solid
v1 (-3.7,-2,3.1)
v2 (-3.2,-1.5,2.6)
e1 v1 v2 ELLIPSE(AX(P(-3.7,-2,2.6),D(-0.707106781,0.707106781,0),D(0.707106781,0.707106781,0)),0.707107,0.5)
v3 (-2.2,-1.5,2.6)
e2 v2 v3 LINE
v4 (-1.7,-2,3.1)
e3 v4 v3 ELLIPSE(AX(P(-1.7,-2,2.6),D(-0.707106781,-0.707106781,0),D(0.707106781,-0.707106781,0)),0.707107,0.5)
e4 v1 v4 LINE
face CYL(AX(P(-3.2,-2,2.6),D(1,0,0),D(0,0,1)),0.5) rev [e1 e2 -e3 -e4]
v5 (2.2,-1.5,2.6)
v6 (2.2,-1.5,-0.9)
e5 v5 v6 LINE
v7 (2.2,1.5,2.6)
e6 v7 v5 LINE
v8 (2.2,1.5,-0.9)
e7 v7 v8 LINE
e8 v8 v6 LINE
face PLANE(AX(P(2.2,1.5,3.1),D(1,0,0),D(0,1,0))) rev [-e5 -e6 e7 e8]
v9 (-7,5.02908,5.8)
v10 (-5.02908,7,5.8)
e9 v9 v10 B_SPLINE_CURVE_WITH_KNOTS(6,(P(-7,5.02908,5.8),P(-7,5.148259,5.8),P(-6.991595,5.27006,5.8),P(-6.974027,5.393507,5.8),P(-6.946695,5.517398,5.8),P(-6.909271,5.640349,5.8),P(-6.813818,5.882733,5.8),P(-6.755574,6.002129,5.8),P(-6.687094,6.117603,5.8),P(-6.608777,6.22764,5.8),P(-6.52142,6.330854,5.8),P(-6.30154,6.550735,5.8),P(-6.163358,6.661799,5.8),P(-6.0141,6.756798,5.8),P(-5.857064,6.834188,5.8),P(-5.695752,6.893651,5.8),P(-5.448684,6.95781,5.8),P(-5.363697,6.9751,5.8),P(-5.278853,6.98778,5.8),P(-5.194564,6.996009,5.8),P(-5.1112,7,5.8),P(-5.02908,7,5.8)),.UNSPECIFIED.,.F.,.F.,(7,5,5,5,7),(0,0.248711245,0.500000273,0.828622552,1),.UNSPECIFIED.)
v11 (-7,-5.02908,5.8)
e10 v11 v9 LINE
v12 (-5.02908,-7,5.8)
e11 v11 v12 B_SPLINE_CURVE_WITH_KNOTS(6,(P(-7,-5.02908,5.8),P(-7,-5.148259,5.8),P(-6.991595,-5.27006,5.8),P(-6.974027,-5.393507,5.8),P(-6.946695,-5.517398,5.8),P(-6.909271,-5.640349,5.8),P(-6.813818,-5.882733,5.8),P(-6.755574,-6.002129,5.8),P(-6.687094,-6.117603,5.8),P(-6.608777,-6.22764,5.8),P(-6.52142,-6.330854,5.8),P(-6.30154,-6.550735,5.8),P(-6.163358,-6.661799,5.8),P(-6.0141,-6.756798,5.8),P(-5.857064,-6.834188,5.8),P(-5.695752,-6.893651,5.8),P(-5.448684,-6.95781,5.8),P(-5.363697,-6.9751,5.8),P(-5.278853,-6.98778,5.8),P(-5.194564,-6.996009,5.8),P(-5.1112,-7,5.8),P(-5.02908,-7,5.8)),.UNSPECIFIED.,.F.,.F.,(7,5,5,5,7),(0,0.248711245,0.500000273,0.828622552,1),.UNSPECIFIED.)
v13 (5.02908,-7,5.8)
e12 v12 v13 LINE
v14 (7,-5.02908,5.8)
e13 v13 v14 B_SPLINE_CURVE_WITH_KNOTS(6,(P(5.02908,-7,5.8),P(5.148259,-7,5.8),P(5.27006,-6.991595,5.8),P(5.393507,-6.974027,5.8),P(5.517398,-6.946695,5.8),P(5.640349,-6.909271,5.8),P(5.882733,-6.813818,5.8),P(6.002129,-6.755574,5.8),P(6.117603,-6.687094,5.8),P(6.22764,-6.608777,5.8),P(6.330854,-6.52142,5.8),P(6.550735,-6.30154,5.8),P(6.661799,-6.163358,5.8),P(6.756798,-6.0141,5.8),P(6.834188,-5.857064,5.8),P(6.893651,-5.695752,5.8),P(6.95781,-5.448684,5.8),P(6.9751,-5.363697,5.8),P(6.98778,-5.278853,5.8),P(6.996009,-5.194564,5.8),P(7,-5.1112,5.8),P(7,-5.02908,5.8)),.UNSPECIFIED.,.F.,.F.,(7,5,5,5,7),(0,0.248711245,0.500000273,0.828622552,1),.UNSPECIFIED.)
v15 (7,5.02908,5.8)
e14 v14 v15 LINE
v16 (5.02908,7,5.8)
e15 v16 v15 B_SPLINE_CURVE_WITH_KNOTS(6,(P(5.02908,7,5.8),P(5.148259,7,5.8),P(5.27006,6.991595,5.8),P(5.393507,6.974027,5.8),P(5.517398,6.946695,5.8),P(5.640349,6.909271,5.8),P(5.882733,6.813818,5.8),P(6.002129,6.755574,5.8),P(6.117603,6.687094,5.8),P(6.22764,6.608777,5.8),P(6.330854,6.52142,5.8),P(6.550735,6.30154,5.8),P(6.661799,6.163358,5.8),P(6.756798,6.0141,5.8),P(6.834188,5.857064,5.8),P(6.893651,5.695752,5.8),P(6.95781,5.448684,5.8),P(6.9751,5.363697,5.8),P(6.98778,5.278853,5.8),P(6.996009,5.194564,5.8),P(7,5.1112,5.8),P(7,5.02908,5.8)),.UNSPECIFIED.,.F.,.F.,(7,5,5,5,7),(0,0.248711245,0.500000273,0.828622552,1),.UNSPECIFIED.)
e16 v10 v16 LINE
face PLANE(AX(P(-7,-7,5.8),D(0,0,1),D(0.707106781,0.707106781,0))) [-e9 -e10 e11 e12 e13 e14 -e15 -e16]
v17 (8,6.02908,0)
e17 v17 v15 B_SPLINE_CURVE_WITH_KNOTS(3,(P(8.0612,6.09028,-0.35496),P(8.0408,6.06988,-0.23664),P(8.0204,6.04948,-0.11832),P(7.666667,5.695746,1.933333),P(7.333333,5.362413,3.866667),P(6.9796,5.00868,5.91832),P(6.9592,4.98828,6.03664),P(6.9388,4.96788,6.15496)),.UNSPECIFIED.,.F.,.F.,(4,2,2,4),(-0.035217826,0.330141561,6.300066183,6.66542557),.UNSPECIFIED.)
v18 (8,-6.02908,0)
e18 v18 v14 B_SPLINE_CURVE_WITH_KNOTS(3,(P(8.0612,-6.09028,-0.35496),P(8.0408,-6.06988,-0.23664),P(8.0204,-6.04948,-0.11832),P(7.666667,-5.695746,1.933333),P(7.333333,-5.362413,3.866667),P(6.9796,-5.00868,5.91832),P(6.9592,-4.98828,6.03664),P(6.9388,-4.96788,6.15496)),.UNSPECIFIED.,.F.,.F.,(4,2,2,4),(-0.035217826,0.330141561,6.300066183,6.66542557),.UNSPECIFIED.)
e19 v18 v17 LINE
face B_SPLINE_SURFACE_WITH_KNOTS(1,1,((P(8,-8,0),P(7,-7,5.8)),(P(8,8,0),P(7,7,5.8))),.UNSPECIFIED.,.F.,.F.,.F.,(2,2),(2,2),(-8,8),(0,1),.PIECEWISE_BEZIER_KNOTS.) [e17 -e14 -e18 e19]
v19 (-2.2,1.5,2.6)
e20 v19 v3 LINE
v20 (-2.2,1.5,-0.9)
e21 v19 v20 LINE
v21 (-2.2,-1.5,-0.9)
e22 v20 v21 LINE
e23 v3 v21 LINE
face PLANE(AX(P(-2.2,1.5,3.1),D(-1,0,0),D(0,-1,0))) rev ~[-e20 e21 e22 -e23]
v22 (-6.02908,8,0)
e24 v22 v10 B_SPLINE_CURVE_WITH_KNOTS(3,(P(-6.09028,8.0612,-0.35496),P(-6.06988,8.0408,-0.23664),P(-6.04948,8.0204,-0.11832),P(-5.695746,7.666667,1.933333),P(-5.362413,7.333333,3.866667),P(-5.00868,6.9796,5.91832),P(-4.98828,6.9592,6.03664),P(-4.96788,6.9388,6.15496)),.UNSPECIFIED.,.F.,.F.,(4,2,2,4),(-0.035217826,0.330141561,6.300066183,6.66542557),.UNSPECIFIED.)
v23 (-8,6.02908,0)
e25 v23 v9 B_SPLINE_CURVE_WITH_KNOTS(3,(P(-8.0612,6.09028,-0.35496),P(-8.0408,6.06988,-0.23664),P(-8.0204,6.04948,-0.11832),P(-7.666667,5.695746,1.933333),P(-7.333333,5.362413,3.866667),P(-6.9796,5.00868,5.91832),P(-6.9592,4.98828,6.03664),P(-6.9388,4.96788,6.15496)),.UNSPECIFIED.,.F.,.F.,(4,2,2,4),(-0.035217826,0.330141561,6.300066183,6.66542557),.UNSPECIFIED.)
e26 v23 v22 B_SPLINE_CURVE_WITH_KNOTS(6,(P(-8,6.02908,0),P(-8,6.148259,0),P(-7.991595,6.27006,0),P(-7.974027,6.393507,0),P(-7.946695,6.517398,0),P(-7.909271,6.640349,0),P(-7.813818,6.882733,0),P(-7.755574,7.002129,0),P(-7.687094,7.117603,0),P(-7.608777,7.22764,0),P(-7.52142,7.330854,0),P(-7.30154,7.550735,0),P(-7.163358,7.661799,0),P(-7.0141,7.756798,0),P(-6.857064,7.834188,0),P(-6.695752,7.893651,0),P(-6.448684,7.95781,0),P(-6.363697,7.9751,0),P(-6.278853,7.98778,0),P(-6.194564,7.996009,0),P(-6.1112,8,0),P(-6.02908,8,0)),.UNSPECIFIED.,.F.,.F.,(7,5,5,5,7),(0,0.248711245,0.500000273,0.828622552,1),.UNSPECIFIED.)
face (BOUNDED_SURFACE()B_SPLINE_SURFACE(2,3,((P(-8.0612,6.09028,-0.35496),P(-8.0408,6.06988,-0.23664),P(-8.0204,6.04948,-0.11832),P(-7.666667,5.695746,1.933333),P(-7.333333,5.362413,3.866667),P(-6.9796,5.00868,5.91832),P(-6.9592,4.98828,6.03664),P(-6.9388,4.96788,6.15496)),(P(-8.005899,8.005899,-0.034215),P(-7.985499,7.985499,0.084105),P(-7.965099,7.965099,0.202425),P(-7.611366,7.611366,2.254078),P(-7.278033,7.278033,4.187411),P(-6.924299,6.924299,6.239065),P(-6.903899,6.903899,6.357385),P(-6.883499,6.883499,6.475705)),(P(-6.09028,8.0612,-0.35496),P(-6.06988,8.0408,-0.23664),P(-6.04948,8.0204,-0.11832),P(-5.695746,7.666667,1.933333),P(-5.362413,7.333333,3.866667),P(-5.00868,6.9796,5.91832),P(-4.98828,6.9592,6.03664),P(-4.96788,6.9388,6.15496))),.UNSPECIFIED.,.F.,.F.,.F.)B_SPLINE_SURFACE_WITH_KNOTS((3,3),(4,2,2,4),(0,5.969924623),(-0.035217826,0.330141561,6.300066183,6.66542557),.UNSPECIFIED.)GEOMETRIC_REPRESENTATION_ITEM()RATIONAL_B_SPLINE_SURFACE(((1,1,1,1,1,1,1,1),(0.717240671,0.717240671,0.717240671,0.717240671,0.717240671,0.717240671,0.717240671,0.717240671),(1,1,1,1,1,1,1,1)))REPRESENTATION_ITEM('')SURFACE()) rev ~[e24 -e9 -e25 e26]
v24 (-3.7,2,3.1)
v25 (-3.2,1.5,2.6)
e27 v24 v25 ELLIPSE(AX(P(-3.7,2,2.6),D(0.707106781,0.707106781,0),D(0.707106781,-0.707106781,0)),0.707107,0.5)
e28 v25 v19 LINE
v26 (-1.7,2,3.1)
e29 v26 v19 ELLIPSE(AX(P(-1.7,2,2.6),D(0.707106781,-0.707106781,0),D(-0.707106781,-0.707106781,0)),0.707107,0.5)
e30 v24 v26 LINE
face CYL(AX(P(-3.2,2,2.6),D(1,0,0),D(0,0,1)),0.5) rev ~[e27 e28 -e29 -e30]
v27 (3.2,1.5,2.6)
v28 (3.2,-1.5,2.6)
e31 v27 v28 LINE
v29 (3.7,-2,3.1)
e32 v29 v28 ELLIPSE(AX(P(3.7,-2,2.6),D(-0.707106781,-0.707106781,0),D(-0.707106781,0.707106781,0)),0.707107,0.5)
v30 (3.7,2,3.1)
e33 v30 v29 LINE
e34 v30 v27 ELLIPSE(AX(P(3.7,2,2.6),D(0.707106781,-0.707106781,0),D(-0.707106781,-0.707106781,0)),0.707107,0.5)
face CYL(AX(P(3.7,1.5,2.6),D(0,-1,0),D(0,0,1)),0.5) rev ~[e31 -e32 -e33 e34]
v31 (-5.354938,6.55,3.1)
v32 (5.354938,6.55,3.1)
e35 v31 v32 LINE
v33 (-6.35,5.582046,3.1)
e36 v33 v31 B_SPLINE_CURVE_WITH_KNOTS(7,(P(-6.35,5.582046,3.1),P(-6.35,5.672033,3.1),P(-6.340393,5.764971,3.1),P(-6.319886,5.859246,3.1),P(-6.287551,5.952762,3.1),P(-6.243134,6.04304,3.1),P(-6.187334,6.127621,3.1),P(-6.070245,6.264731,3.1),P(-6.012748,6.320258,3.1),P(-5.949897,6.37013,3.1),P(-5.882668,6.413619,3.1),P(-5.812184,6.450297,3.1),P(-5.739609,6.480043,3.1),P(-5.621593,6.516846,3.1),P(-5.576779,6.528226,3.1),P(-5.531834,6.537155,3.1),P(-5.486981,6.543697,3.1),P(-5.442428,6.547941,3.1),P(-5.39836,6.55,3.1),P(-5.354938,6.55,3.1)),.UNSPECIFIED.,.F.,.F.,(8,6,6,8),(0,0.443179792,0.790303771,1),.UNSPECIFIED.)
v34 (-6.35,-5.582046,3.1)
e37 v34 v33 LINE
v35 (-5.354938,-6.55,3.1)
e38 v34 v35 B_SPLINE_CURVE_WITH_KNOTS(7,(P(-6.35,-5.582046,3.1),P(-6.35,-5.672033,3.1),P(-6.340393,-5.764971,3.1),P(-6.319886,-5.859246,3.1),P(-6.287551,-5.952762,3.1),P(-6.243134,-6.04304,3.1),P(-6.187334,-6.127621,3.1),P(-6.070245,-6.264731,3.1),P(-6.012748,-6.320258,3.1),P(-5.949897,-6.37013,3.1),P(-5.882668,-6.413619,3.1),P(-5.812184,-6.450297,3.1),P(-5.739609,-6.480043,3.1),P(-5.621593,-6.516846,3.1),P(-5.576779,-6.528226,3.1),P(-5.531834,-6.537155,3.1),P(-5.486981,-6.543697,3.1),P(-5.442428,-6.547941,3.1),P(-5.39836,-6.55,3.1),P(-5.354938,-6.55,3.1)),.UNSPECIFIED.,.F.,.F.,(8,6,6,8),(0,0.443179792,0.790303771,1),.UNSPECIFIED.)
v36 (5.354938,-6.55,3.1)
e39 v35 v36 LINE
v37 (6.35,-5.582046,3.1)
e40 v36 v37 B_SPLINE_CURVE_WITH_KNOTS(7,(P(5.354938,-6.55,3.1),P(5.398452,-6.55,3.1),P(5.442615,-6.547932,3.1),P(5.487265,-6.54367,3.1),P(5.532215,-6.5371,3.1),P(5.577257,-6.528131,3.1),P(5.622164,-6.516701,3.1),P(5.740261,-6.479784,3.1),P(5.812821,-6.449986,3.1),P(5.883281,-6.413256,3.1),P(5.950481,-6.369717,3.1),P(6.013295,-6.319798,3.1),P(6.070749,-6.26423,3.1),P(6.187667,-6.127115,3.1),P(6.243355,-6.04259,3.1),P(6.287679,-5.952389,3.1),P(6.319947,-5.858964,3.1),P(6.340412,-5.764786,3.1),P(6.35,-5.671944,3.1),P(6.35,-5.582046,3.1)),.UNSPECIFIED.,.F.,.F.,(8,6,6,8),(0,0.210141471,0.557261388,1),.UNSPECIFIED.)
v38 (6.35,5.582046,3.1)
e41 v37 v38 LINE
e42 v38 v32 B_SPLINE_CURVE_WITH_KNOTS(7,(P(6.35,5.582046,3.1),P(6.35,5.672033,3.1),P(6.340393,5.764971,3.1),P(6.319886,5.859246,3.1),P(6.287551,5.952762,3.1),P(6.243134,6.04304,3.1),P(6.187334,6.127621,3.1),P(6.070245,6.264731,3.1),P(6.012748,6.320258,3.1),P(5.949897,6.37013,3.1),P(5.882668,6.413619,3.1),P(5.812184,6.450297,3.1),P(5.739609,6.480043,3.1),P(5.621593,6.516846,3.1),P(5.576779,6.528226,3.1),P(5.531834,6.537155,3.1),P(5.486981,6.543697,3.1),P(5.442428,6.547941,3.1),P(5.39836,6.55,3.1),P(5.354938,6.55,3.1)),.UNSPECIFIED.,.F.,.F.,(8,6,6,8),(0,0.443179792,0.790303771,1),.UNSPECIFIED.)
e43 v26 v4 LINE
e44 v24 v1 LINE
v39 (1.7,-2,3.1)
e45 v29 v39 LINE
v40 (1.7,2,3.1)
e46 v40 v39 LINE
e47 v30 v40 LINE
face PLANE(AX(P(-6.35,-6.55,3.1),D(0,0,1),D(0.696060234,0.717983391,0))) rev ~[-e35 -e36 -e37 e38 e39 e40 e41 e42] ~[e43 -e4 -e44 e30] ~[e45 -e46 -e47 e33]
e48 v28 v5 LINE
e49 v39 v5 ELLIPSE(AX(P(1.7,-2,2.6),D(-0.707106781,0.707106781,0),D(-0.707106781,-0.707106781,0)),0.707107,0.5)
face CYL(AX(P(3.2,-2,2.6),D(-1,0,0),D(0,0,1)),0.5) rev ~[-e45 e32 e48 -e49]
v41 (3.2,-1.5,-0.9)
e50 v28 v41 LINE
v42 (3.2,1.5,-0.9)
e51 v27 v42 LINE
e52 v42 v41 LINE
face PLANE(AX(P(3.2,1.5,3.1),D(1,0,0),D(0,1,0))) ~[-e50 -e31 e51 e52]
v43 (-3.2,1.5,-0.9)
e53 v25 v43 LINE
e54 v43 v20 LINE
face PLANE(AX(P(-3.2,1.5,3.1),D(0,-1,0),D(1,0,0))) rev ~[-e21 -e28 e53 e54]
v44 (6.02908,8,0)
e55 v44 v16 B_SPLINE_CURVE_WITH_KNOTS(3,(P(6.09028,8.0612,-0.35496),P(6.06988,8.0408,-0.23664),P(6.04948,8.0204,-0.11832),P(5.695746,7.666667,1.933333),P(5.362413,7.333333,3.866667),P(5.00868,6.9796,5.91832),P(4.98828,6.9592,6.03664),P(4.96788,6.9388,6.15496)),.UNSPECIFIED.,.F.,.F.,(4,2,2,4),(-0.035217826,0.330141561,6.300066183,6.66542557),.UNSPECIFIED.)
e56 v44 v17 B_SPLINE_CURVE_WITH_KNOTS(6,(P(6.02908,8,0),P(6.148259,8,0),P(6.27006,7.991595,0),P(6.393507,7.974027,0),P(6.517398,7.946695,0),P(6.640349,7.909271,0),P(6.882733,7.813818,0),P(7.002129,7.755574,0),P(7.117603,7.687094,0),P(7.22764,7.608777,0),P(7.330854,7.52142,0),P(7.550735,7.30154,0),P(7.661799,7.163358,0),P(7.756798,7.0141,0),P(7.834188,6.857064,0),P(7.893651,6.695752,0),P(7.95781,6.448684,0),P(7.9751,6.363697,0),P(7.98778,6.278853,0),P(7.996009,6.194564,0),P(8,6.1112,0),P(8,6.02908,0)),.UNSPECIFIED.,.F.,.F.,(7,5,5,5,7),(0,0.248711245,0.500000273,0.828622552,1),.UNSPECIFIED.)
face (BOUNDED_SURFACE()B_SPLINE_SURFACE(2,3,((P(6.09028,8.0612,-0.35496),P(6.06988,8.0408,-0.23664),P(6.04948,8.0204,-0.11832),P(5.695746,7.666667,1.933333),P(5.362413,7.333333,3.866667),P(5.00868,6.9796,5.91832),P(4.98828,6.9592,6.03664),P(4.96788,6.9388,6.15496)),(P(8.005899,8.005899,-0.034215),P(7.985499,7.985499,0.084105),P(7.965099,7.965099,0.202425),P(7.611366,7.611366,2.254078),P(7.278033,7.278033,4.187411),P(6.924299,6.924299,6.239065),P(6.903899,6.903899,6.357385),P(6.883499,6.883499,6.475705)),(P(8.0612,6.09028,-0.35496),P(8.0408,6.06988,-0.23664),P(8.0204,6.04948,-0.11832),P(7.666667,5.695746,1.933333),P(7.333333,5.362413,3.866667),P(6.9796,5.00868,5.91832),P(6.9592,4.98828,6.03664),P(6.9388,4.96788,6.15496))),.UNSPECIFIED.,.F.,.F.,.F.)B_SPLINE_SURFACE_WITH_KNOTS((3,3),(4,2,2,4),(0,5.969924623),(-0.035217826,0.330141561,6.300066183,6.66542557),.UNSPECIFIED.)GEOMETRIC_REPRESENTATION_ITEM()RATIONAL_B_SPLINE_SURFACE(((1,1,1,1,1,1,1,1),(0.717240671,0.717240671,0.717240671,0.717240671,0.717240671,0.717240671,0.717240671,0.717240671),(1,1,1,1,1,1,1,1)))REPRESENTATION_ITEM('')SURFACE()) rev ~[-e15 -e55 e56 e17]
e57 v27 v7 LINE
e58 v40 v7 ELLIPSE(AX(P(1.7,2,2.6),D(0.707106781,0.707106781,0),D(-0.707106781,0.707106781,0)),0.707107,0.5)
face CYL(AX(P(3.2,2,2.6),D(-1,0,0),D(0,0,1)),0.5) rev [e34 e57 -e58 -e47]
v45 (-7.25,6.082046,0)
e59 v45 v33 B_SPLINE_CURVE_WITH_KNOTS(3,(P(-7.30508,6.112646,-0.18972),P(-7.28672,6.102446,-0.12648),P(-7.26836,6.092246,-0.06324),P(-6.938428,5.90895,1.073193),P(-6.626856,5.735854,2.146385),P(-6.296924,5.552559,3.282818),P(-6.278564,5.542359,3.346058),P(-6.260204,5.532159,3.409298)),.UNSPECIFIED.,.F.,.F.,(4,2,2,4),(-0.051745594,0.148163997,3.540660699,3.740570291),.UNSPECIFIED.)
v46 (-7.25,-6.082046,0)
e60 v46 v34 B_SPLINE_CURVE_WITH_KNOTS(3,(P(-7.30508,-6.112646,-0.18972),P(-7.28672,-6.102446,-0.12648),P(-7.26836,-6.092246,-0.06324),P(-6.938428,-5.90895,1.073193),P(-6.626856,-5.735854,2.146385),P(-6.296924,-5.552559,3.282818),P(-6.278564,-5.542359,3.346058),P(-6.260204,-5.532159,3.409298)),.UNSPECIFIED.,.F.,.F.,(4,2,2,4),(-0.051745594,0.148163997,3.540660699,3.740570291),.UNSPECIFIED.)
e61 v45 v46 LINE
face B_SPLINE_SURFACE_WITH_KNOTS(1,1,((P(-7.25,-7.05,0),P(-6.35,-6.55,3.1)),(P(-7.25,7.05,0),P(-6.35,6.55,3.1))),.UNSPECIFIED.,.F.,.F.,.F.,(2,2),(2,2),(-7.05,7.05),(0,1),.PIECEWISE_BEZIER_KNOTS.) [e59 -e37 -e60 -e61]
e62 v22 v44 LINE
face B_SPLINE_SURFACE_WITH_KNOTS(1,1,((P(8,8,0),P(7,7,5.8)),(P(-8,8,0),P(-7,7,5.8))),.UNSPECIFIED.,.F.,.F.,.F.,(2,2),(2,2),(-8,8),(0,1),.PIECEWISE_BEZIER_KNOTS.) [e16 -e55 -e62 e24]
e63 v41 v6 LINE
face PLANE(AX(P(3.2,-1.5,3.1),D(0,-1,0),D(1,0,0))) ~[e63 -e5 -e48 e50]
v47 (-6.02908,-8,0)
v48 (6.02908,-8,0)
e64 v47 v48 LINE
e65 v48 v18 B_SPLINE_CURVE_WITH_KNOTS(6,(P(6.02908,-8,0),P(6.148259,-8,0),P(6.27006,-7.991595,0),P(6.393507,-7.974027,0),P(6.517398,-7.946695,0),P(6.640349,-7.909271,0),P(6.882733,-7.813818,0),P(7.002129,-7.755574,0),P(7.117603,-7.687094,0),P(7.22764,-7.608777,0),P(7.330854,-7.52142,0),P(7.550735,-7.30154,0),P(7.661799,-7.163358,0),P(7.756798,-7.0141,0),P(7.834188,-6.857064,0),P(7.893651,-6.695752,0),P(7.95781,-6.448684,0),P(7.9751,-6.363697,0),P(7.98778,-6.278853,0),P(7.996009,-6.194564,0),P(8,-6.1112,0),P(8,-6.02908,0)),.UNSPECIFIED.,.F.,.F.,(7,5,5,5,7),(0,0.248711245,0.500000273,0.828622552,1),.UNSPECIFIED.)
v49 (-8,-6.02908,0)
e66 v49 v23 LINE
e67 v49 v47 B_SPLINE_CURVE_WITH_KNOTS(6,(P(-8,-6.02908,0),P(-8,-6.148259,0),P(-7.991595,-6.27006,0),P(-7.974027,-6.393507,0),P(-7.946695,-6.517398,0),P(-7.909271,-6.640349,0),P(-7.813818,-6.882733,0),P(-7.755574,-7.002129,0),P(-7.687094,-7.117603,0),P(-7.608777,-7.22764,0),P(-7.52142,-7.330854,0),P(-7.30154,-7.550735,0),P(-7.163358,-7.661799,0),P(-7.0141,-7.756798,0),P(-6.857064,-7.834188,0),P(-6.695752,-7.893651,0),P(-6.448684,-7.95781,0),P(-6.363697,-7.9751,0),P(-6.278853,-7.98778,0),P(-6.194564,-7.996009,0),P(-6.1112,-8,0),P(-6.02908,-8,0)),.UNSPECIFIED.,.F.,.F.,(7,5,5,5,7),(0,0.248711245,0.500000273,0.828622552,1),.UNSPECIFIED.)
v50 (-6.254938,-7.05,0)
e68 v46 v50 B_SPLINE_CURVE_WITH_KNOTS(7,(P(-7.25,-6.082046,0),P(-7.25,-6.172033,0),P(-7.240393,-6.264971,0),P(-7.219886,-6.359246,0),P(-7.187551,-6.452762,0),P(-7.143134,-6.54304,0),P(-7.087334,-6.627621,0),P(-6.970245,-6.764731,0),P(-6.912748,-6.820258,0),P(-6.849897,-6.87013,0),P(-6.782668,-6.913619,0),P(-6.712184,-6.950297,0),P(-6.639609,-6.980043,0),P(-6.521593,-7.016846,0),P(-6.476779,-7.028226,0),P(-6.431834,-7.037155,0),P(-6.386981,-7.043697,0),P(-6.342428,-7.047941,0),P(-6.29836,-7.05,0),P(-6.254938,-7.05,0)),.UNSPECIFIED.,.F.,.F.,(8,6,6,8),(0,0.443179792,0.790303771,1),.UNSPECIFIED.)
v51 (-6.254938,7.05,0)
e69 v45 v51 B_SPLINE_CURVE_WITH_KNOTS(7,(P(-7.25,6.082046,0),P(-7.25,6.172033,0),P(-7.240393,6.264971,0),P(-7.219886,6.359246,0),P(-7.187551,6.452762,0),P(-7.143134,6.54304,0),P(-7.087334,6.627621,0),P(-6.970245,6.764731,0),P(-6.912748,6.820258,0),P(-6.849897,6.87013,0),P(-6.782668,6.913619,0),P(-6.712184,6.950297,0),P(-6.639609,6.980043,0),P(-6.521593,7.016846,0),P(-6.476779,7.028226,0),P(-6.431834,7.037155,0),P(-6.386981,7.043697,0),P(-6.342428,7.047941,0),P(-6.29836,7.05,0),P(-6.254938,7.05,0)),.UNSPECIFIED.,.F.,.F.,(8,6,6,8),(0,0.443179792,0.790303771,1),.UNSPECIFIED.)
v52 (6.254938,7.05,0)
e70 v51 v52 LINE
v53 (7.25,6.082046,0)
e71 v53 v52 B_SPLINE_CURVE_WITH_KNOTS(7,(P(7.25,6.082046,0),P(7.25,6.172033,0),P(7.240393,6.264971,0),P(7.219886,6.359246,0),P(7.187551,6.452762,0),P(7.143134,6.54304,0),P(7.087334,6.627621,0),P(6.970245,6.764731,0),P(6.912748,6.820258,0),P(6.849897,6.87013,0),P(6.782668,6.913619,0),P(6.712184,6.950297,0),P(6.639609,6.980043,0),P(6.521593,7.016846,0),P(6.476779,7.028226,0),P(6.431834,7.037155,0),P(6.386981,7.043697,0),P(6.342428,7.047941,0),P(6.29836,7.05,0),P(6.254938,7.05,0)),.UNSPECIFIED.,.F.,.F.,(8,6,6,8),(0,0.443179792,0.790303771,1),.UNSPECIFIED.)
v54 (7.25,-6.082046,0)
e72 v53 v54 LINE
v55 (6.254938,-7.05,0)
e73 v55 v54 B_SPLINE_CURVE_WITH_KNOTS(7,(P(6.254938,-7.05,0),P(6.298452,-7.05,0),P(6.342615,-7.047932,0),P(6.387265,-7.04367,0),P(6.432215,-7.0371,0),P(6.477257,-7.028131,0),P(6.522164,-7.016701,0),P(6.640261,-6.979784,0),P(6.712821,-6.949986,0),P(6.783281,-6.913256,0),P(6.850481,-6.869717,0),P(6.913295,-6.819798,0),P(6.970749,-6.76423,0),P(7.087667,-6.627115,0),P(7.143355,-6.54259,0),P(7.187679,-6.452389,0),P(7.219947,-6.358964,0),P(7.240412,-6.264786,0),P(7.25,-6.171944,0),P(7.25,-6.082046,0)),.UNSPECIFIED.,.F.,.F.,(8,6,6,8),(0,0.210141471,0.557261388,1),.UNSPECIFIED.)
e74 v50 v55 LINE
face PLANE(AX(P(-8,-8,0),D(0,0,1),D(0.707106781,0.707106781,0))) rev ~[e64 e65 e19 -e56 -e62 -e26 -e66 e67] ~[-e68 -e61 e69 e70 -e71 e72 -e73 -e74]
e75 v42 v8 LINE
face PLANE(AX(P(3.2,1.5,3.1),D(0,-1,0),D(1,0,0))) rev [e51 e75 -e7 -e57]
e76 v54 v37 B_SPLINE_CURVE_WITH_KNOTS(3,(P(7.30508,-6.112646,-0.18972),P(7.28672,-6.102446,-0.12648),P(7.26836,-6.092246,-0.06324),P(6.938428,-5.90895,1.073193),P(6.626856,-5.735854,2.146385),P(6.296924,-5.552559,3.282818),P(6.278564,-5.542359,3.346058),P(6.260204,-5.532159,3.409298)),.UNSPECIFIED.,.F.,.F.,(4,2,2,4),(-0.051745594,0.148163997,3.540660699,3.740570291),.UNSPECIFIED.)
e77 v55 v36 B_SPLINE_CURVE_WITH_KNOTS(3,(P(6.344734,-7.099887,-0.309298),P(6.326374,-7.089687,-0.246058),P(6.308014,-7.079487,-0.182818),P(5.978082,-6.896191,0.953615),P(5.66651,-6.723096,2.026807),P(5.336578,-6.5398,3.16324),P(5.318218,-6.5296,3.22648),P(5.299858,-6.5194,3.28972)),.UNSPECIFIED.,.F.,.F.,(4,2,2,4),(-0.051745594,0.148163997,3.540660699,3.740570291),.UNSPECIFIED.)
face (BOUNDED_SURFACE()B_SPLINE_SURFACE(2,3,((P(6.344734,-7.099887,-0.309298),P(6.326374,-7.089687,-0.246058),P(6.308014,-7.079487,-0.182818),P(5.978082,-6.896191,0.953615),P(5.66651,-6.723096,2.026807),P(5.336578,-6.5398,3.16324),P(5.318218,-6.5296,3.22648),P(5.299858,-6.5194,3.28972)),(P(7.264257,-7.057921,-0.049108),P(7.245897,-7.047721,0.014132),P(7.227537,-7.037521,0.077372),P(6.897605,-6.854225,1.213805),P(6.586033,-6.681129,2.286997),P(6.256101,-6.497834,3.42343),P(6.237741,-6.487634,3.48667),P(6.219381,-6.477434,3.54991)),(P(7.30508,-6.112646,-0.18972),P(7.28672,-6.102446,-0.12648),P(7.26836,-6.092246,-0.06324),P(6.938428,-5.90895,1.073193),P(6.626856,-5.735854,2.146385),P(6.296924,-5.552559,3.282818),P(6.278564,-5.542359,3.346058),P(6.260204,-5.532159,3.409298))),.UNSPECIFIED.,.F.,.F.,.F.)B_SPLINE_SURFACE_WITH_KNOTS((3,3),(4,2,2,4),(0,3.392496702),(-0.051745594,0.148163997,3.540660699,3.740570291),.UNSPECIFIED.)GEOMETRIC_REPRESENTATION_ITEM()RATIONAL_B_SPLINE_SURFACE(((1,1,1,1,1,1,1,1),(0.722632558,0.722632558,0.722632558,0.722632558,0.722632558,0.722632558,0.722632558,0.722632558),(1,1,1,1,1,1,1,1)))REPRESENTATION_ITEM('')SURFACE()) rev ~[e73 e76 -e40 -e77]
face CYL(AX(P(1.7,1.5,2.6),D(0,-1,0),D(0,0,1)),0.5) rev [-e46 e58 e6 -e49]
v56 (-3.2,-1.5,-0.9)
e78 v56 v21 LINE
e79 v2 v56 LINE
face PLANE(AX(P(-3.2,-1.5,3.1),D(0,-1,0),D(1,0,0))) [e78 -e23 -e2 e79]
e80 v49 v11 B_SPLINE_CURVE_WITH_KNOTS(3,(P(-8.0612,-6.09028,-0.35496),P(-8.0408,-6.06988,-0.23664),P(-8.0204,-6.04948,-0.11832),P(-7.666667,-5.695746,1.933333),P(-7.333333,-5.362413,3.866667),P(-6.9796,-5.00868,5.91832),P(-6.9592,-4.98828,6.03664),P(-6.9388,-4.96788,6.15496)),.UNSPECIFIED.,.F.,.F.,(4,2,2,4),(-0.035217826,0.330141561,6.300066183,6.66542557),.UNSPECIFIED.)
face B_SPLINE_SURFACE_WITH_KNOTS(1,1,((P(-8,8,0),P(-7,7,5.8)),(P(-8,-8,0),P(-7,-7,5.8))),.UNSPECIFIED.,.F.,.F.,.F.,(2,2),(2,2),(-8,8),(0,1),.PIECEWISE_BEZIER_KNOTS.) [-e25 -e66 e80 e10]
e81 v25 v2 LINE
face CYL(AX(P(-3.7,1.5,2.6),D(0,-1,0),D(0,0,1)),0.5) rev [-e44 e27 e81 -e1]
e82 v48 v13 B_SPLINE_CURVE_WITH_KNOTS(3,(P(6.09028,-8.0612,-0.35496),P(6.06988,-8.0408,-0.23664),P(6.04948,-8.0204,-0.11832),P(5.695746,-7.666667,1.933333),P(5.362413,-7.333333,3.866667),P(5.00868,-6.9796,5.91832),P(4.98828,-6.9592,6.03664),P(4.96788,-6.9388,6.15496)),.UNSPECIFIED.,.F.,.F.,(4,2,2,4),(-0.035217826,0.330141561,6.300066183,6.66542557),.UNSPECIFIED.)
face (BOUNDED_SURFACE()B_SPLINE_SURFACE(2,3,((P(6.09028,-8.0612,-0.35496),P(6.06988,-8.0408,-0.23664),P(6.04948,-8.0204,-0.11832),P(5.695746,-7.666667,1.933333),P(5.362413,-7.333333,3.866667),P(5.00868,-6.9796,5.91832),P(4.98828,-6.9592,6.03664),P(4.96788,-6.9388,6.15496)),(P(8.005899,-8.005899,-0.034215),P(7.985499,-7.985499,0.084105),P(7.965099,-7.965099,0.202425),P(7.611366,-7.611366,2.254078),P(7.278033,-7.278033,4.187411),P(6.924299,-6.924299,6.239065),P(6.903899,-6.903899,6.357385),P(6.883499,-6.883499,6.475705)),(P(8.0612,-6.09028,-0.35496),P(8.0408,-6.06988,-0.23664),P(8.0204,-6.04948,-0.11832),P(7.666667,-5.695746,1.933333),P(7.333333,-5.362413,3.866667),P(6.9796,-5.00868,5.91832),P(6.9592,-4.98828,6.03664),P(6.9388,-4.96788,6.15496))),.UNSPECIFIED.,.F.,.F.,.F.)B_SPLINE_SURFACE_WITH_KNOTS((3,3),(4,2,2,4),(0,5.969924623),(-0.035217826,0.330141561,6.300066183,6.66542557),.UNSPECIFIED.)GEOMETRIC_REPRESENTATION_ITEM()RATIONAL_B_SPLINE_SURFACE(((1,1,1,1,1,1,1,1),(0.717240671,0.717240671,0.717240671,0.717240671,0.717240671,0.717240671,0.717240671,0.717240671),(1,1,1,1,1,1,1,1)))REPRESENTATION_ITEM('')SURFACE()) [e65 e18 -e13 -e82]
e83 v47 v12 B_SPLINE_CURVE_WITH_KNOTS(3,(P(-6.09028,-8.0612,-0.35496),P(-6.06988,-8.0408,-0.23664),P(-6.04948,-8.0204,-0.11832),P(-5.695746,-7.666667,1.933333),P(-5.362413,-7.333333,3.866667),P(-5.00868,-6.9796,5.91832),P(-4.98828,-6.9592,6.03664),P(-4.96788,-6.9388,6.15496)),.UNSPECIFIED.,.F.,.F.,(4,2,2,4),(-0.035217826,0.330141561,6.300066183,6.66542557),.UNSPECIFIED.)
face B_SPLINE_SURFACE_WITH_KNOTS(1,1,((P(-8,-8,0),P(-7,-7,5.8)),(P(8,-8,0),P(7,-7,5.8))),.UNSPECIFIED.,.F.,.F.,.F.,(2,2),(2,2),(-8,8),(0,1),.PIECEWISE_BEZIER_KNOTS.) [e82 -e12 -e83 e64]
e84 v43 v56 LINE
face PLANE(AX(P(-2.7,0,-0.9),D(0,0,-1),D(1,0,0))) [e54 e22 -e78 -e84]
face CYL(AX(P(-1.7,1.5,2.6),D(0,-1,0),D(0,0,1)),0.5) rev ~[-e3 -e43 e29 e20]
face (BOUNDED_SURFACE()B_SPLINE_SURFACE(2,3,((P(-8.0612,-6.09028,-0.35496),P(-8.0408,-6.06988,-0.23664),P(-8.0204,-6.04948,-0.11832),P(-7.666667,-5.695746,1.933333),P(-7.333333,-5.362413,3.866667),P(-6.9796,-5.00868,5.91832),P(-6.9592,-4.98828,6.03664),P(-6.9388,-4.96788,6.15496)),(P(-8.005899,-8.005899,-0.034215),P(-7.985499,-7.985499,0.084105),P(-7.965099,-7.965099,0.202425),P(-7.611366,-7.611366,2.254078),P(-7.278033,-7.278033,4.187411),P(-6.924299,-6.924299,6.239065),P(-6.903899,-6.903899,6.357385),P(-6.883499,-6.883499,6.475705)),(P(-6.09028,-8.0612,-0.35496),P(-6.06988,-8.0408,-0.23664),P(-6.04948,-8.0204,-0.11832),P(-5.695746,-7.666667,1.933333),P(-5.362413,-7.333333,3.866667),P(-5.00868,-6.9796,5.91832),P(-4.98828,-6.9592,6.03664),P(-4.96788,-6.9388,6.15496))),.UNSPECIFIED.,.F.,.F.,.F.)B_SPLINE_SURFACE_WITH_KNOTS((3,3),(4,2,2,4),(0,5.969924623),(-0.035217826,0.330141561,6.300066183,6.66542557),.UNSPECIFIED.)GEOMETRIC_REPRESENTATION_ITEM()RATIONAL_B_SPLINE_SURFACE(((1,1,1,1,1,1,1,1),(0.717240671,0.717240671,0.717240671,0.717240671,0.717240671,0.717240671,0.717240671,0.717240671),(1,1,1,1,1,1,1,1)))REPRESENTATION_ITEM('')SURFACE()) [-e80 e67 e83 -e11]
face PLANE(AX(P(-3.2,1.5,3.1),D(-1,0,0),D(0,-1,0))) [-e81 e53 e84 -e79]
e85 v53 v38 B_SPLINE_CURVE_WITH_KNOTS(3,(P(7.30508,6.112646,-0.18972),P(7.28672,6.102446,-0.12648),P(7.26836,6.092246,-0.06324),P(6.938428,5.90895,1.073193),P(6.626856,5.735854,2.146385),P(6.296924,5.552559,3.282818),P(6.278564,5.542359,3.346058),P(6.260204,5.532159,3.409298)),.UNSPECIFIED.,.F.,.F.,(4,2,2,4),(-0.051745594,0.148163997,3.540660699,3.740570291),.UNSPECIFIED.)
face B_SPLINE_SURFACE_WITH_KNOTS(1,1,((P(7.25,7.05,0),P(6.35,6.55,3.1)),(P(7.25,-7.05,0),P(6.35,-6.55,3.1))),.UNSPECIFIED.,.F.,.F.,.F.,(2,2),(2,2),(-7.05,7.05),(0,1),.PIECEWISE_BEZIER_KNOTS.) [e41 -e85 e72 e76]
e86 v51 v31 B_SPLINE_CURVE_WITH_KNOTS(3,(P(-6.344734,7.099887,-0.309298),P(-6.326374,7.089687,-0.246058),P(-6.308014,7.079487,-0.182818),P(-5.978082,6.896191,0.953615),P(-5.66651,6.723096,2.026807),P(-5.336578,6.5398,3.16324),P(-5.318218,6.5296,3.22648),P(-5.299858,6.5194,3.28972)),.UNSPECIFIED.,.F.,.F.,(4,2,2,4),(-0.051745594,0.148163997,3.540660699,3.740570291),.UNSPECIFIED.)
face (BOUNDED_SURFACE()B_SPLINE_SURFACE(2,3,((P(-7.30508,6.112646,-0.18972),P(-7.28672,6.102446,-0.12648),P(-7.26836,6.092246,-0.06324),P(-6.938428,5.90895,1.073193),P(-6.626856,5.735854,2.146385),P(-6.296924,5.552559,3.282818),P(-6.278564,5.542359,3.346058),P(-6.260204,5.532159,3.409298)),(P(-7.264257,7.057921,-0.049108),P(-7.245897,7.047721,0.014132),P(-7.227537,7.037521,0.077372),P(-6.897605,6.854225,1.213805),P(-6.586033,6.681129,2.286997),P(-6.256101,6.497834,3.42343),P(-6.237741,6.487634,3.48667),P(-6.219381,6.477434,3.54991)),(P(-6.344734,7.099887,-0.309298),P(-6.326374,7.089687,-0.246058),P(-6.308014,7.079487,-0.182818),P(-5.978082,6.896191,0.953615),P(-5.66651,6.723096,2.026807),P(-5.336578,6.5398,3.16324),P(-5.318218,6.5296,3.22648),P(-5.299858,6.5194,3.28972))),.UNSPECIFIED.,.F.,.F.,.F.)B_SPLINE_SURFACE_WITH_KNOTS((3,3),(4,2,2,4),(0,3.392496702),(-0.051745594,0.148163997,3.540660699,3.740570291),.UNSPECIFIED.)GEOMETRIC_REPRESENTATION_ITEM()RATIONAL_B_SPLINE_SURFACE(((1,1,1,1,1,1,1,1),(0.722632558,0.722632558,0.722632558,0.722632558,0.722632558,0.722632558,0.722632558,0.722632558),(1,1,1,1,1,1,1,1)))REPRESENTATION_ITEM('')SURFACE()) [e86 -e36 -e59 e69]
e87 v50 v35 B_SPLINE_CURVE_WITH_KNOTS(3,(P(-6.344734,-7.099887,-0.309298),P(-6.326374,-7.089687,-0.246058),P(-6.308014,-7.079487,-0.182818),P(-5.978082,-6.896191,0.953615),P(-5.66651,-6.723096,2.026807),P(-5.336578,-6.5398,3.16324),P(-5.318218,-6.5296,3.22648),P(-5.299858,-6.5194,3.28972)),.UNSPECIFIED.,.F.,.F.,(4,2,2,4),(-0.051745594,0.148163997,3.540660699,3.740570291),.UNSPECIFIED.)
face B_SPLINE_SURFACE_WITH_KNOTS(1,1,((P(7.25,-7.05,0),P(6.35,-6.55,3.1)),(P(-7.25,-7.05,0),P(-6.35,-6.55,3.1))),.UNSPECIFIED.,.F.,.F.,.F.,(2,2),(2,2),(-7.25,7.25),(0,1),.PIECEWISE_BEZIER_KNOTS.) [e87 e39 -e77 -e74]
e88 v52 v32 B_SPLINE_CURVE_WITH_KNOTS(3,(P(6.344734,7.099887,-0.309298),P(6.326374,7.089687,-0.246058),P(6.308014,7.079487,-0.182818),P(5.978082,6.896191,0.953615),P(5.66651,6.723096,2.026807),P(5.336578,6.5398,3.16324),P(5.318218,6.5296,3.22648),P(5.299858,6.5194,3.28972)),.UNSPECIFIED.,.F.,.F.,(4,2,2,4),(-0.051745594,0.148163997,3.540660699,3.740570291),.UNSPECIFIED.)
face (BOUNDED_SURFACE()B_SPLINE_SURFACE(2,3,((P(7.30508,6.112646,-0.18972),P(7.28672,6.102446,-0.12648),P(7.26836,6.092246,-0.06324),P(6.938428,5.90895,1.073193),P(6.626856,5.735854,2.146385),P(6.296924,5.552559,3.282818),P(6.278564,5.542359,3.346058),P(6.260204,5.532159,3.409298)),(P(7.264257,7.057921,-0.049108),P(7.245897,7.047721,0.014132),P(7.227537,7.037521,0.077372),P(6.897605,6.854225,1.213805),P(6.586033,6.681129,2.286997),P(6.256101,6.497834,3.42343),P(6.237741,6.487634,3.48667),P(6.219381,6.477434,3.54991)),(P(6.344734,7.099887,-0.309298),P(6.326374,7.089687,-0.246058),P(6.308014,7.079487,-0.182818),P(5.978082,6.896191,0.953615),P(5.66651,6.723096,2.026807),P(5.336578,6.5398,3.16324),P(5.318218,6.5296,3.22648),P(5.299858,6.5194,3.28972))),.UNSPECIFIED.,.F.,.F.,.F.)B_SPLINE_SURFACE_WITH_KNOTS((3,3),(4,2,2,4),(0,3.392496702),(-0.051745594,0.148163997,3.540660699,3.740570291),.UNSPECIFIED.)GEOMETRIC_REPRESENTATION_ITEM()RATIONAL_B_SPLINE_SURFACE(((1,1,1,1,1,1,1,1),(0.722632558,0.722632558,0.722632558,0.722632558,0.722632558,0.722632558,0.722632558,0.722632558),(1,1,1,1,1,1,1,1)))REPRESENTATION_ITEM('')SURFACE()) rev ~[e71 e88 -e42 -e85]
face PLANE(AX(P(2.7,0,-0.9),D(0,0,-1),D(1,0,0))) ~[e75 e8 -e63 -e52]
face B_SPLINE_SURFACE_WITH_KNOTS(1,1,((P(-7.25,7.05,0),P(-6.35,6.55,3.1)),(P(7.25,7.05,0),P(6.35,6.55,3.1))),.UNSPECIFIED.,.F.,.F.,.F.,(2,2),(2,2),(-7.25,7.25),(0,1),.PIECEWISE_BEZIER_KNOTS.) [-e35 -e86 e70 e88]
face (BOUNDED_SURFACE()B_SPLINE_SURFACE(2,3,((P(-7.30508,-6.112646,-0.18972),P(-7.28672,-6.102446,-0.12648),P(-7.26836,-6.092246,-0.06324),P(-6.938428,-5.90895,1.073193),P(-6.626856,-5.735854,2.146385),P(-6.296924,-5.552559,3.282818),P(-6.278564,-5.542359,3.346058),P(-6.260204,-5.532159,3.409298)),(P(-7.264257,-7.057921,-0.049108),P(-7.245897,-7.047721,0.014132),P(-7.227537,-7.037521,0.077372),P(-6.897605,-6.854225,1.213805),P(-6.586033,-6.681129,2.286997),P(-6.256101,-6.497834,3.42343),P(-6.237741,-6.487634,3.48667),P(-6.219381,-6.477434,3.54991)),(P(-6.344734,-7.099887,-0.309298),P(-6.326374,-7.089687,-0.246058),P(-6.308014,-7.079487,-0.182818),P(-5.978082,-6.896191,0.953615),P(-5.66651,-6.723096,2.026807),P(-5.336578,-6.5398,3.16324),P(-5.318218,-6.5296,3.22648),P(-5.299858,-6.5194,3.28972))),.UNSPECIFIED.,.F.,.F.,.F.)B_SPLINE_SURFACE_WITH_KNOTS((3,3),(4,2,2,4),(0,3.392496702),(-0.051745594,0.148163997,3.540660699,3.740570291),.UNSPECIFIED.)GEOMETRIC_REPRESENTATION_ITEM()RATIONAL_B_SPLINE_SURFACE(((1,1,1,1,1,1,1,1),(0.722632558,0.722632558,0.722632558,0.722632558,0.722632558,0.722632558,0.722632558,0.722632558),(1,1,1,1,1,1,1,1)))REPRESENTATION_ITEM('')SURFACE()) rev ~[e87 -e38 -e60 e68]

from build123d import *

# Parameters (mm, degrees)
SKETCH003_W = 16
SKETCH003_H = 16
SKETCH004_W = 14
SKETCH004_H = 14
SKETCH_W    = 14.5
SKETCH_H    = 14.1
SKETCH005_W = 12.7
SKETCH005_H = 13.1
SKETCH006_W = 1
SKETCH006_H = 3
PAD_DEPTH   = 4
FILLET_R    = 2
FILLET001_R = 1
FILLET002_R = 0.5


with BuildPart() as part:
    # Sketch003 → AdditiveLoft section 0
    with BuildSketch(Plane.XY):
        Rectangle(SKETCH003_W, SKETCH003_H)
    # Sketch004 → AdditiveLoft section 1
    with BuildSketch(Plane.XY.offset(5.8)):
        Rectangle(SKETCH004_W, SKETCH004_H)
    loft()

    # Sketch (on Face1 of AdditiveLoft) → SubtractiveLoft section 0
    with BuildSketch(Plane(origin=(0, 0, 0), x_dir=(1, 0, 0), z_dir=(0, 0, -1))):
        Rectangle(SKETCH_W, SKETCH_H)
    # Sketch005 → SubtractiveLoft section 1
    with BuildSketch(Plane.XY.offset(3.1)):
        Rectangle(SKETCH005_W, SKETCH005_H)
    loft(mode=Mode.SUBTRACT)

    # Sketch006 (on Face11 of SubtractiveLoft) → Pad (new body)
    with BuildSketch(Plane(origin=(0, 0, 3.1), x_dir=(1, 0, 0), z_dir=(0, 0, -1))):
        with Locations((-2.7, 0)):
            Rectangle(SKETCH006_W, SKETCH006_H)
    pad = extrude(amount=PAD_DEPTH)

    # Mirrored: Pad across Sketch006 V_Axis
    add(pad.mirror(Plane(origin=(0, 0, 3.1), x_dir=(0, 0, -1), z_dir=(1, 0, 0))))

    # Fillet
    fillet_edges = [part.edges().sort_by_distance(p)[0] for p in [
        (-7.5, -7.5, 2.9),
        (-7.5, 7.5, 2.9),
        (7.5, 7.5, 2.9),
        (7.5, -7.5, 2.9),
    ]]
    fillet(fillet_edges, radius=FILLET_R)

    # Fillet001
    fillet001_edges = [part.edges().sort_by_distance(p)[0] for p in [
        (-6.8, -6.8, 1.55),
        (-6.8, 6.8, 1.55),
        (6.8, -6.8, 1.55),
        (6.8, 6.8, 1.55),
    ]]
    fillet(fillet001_edges, radius=FILLET001_R)

    # Fillet002
    fillet002_edges = [part.edges().sort_by_distance(p)[0] for p in [
        (-2.2, 0, 3.1),
        (-2.7, -1.5, 3.1),
        (2.7, -1.5, 3.1),
        (3.2, 0, 3.1),
        (2.7, 1.5, 3.1),
        (-2.7, 1.5, 3.1),
        (2.2, 0, 3.1),
        (-3.2, 0, 3.1),
    ]]
    fillet(fillet002_edges, radius=FILLET002_R)


solid = part.part
